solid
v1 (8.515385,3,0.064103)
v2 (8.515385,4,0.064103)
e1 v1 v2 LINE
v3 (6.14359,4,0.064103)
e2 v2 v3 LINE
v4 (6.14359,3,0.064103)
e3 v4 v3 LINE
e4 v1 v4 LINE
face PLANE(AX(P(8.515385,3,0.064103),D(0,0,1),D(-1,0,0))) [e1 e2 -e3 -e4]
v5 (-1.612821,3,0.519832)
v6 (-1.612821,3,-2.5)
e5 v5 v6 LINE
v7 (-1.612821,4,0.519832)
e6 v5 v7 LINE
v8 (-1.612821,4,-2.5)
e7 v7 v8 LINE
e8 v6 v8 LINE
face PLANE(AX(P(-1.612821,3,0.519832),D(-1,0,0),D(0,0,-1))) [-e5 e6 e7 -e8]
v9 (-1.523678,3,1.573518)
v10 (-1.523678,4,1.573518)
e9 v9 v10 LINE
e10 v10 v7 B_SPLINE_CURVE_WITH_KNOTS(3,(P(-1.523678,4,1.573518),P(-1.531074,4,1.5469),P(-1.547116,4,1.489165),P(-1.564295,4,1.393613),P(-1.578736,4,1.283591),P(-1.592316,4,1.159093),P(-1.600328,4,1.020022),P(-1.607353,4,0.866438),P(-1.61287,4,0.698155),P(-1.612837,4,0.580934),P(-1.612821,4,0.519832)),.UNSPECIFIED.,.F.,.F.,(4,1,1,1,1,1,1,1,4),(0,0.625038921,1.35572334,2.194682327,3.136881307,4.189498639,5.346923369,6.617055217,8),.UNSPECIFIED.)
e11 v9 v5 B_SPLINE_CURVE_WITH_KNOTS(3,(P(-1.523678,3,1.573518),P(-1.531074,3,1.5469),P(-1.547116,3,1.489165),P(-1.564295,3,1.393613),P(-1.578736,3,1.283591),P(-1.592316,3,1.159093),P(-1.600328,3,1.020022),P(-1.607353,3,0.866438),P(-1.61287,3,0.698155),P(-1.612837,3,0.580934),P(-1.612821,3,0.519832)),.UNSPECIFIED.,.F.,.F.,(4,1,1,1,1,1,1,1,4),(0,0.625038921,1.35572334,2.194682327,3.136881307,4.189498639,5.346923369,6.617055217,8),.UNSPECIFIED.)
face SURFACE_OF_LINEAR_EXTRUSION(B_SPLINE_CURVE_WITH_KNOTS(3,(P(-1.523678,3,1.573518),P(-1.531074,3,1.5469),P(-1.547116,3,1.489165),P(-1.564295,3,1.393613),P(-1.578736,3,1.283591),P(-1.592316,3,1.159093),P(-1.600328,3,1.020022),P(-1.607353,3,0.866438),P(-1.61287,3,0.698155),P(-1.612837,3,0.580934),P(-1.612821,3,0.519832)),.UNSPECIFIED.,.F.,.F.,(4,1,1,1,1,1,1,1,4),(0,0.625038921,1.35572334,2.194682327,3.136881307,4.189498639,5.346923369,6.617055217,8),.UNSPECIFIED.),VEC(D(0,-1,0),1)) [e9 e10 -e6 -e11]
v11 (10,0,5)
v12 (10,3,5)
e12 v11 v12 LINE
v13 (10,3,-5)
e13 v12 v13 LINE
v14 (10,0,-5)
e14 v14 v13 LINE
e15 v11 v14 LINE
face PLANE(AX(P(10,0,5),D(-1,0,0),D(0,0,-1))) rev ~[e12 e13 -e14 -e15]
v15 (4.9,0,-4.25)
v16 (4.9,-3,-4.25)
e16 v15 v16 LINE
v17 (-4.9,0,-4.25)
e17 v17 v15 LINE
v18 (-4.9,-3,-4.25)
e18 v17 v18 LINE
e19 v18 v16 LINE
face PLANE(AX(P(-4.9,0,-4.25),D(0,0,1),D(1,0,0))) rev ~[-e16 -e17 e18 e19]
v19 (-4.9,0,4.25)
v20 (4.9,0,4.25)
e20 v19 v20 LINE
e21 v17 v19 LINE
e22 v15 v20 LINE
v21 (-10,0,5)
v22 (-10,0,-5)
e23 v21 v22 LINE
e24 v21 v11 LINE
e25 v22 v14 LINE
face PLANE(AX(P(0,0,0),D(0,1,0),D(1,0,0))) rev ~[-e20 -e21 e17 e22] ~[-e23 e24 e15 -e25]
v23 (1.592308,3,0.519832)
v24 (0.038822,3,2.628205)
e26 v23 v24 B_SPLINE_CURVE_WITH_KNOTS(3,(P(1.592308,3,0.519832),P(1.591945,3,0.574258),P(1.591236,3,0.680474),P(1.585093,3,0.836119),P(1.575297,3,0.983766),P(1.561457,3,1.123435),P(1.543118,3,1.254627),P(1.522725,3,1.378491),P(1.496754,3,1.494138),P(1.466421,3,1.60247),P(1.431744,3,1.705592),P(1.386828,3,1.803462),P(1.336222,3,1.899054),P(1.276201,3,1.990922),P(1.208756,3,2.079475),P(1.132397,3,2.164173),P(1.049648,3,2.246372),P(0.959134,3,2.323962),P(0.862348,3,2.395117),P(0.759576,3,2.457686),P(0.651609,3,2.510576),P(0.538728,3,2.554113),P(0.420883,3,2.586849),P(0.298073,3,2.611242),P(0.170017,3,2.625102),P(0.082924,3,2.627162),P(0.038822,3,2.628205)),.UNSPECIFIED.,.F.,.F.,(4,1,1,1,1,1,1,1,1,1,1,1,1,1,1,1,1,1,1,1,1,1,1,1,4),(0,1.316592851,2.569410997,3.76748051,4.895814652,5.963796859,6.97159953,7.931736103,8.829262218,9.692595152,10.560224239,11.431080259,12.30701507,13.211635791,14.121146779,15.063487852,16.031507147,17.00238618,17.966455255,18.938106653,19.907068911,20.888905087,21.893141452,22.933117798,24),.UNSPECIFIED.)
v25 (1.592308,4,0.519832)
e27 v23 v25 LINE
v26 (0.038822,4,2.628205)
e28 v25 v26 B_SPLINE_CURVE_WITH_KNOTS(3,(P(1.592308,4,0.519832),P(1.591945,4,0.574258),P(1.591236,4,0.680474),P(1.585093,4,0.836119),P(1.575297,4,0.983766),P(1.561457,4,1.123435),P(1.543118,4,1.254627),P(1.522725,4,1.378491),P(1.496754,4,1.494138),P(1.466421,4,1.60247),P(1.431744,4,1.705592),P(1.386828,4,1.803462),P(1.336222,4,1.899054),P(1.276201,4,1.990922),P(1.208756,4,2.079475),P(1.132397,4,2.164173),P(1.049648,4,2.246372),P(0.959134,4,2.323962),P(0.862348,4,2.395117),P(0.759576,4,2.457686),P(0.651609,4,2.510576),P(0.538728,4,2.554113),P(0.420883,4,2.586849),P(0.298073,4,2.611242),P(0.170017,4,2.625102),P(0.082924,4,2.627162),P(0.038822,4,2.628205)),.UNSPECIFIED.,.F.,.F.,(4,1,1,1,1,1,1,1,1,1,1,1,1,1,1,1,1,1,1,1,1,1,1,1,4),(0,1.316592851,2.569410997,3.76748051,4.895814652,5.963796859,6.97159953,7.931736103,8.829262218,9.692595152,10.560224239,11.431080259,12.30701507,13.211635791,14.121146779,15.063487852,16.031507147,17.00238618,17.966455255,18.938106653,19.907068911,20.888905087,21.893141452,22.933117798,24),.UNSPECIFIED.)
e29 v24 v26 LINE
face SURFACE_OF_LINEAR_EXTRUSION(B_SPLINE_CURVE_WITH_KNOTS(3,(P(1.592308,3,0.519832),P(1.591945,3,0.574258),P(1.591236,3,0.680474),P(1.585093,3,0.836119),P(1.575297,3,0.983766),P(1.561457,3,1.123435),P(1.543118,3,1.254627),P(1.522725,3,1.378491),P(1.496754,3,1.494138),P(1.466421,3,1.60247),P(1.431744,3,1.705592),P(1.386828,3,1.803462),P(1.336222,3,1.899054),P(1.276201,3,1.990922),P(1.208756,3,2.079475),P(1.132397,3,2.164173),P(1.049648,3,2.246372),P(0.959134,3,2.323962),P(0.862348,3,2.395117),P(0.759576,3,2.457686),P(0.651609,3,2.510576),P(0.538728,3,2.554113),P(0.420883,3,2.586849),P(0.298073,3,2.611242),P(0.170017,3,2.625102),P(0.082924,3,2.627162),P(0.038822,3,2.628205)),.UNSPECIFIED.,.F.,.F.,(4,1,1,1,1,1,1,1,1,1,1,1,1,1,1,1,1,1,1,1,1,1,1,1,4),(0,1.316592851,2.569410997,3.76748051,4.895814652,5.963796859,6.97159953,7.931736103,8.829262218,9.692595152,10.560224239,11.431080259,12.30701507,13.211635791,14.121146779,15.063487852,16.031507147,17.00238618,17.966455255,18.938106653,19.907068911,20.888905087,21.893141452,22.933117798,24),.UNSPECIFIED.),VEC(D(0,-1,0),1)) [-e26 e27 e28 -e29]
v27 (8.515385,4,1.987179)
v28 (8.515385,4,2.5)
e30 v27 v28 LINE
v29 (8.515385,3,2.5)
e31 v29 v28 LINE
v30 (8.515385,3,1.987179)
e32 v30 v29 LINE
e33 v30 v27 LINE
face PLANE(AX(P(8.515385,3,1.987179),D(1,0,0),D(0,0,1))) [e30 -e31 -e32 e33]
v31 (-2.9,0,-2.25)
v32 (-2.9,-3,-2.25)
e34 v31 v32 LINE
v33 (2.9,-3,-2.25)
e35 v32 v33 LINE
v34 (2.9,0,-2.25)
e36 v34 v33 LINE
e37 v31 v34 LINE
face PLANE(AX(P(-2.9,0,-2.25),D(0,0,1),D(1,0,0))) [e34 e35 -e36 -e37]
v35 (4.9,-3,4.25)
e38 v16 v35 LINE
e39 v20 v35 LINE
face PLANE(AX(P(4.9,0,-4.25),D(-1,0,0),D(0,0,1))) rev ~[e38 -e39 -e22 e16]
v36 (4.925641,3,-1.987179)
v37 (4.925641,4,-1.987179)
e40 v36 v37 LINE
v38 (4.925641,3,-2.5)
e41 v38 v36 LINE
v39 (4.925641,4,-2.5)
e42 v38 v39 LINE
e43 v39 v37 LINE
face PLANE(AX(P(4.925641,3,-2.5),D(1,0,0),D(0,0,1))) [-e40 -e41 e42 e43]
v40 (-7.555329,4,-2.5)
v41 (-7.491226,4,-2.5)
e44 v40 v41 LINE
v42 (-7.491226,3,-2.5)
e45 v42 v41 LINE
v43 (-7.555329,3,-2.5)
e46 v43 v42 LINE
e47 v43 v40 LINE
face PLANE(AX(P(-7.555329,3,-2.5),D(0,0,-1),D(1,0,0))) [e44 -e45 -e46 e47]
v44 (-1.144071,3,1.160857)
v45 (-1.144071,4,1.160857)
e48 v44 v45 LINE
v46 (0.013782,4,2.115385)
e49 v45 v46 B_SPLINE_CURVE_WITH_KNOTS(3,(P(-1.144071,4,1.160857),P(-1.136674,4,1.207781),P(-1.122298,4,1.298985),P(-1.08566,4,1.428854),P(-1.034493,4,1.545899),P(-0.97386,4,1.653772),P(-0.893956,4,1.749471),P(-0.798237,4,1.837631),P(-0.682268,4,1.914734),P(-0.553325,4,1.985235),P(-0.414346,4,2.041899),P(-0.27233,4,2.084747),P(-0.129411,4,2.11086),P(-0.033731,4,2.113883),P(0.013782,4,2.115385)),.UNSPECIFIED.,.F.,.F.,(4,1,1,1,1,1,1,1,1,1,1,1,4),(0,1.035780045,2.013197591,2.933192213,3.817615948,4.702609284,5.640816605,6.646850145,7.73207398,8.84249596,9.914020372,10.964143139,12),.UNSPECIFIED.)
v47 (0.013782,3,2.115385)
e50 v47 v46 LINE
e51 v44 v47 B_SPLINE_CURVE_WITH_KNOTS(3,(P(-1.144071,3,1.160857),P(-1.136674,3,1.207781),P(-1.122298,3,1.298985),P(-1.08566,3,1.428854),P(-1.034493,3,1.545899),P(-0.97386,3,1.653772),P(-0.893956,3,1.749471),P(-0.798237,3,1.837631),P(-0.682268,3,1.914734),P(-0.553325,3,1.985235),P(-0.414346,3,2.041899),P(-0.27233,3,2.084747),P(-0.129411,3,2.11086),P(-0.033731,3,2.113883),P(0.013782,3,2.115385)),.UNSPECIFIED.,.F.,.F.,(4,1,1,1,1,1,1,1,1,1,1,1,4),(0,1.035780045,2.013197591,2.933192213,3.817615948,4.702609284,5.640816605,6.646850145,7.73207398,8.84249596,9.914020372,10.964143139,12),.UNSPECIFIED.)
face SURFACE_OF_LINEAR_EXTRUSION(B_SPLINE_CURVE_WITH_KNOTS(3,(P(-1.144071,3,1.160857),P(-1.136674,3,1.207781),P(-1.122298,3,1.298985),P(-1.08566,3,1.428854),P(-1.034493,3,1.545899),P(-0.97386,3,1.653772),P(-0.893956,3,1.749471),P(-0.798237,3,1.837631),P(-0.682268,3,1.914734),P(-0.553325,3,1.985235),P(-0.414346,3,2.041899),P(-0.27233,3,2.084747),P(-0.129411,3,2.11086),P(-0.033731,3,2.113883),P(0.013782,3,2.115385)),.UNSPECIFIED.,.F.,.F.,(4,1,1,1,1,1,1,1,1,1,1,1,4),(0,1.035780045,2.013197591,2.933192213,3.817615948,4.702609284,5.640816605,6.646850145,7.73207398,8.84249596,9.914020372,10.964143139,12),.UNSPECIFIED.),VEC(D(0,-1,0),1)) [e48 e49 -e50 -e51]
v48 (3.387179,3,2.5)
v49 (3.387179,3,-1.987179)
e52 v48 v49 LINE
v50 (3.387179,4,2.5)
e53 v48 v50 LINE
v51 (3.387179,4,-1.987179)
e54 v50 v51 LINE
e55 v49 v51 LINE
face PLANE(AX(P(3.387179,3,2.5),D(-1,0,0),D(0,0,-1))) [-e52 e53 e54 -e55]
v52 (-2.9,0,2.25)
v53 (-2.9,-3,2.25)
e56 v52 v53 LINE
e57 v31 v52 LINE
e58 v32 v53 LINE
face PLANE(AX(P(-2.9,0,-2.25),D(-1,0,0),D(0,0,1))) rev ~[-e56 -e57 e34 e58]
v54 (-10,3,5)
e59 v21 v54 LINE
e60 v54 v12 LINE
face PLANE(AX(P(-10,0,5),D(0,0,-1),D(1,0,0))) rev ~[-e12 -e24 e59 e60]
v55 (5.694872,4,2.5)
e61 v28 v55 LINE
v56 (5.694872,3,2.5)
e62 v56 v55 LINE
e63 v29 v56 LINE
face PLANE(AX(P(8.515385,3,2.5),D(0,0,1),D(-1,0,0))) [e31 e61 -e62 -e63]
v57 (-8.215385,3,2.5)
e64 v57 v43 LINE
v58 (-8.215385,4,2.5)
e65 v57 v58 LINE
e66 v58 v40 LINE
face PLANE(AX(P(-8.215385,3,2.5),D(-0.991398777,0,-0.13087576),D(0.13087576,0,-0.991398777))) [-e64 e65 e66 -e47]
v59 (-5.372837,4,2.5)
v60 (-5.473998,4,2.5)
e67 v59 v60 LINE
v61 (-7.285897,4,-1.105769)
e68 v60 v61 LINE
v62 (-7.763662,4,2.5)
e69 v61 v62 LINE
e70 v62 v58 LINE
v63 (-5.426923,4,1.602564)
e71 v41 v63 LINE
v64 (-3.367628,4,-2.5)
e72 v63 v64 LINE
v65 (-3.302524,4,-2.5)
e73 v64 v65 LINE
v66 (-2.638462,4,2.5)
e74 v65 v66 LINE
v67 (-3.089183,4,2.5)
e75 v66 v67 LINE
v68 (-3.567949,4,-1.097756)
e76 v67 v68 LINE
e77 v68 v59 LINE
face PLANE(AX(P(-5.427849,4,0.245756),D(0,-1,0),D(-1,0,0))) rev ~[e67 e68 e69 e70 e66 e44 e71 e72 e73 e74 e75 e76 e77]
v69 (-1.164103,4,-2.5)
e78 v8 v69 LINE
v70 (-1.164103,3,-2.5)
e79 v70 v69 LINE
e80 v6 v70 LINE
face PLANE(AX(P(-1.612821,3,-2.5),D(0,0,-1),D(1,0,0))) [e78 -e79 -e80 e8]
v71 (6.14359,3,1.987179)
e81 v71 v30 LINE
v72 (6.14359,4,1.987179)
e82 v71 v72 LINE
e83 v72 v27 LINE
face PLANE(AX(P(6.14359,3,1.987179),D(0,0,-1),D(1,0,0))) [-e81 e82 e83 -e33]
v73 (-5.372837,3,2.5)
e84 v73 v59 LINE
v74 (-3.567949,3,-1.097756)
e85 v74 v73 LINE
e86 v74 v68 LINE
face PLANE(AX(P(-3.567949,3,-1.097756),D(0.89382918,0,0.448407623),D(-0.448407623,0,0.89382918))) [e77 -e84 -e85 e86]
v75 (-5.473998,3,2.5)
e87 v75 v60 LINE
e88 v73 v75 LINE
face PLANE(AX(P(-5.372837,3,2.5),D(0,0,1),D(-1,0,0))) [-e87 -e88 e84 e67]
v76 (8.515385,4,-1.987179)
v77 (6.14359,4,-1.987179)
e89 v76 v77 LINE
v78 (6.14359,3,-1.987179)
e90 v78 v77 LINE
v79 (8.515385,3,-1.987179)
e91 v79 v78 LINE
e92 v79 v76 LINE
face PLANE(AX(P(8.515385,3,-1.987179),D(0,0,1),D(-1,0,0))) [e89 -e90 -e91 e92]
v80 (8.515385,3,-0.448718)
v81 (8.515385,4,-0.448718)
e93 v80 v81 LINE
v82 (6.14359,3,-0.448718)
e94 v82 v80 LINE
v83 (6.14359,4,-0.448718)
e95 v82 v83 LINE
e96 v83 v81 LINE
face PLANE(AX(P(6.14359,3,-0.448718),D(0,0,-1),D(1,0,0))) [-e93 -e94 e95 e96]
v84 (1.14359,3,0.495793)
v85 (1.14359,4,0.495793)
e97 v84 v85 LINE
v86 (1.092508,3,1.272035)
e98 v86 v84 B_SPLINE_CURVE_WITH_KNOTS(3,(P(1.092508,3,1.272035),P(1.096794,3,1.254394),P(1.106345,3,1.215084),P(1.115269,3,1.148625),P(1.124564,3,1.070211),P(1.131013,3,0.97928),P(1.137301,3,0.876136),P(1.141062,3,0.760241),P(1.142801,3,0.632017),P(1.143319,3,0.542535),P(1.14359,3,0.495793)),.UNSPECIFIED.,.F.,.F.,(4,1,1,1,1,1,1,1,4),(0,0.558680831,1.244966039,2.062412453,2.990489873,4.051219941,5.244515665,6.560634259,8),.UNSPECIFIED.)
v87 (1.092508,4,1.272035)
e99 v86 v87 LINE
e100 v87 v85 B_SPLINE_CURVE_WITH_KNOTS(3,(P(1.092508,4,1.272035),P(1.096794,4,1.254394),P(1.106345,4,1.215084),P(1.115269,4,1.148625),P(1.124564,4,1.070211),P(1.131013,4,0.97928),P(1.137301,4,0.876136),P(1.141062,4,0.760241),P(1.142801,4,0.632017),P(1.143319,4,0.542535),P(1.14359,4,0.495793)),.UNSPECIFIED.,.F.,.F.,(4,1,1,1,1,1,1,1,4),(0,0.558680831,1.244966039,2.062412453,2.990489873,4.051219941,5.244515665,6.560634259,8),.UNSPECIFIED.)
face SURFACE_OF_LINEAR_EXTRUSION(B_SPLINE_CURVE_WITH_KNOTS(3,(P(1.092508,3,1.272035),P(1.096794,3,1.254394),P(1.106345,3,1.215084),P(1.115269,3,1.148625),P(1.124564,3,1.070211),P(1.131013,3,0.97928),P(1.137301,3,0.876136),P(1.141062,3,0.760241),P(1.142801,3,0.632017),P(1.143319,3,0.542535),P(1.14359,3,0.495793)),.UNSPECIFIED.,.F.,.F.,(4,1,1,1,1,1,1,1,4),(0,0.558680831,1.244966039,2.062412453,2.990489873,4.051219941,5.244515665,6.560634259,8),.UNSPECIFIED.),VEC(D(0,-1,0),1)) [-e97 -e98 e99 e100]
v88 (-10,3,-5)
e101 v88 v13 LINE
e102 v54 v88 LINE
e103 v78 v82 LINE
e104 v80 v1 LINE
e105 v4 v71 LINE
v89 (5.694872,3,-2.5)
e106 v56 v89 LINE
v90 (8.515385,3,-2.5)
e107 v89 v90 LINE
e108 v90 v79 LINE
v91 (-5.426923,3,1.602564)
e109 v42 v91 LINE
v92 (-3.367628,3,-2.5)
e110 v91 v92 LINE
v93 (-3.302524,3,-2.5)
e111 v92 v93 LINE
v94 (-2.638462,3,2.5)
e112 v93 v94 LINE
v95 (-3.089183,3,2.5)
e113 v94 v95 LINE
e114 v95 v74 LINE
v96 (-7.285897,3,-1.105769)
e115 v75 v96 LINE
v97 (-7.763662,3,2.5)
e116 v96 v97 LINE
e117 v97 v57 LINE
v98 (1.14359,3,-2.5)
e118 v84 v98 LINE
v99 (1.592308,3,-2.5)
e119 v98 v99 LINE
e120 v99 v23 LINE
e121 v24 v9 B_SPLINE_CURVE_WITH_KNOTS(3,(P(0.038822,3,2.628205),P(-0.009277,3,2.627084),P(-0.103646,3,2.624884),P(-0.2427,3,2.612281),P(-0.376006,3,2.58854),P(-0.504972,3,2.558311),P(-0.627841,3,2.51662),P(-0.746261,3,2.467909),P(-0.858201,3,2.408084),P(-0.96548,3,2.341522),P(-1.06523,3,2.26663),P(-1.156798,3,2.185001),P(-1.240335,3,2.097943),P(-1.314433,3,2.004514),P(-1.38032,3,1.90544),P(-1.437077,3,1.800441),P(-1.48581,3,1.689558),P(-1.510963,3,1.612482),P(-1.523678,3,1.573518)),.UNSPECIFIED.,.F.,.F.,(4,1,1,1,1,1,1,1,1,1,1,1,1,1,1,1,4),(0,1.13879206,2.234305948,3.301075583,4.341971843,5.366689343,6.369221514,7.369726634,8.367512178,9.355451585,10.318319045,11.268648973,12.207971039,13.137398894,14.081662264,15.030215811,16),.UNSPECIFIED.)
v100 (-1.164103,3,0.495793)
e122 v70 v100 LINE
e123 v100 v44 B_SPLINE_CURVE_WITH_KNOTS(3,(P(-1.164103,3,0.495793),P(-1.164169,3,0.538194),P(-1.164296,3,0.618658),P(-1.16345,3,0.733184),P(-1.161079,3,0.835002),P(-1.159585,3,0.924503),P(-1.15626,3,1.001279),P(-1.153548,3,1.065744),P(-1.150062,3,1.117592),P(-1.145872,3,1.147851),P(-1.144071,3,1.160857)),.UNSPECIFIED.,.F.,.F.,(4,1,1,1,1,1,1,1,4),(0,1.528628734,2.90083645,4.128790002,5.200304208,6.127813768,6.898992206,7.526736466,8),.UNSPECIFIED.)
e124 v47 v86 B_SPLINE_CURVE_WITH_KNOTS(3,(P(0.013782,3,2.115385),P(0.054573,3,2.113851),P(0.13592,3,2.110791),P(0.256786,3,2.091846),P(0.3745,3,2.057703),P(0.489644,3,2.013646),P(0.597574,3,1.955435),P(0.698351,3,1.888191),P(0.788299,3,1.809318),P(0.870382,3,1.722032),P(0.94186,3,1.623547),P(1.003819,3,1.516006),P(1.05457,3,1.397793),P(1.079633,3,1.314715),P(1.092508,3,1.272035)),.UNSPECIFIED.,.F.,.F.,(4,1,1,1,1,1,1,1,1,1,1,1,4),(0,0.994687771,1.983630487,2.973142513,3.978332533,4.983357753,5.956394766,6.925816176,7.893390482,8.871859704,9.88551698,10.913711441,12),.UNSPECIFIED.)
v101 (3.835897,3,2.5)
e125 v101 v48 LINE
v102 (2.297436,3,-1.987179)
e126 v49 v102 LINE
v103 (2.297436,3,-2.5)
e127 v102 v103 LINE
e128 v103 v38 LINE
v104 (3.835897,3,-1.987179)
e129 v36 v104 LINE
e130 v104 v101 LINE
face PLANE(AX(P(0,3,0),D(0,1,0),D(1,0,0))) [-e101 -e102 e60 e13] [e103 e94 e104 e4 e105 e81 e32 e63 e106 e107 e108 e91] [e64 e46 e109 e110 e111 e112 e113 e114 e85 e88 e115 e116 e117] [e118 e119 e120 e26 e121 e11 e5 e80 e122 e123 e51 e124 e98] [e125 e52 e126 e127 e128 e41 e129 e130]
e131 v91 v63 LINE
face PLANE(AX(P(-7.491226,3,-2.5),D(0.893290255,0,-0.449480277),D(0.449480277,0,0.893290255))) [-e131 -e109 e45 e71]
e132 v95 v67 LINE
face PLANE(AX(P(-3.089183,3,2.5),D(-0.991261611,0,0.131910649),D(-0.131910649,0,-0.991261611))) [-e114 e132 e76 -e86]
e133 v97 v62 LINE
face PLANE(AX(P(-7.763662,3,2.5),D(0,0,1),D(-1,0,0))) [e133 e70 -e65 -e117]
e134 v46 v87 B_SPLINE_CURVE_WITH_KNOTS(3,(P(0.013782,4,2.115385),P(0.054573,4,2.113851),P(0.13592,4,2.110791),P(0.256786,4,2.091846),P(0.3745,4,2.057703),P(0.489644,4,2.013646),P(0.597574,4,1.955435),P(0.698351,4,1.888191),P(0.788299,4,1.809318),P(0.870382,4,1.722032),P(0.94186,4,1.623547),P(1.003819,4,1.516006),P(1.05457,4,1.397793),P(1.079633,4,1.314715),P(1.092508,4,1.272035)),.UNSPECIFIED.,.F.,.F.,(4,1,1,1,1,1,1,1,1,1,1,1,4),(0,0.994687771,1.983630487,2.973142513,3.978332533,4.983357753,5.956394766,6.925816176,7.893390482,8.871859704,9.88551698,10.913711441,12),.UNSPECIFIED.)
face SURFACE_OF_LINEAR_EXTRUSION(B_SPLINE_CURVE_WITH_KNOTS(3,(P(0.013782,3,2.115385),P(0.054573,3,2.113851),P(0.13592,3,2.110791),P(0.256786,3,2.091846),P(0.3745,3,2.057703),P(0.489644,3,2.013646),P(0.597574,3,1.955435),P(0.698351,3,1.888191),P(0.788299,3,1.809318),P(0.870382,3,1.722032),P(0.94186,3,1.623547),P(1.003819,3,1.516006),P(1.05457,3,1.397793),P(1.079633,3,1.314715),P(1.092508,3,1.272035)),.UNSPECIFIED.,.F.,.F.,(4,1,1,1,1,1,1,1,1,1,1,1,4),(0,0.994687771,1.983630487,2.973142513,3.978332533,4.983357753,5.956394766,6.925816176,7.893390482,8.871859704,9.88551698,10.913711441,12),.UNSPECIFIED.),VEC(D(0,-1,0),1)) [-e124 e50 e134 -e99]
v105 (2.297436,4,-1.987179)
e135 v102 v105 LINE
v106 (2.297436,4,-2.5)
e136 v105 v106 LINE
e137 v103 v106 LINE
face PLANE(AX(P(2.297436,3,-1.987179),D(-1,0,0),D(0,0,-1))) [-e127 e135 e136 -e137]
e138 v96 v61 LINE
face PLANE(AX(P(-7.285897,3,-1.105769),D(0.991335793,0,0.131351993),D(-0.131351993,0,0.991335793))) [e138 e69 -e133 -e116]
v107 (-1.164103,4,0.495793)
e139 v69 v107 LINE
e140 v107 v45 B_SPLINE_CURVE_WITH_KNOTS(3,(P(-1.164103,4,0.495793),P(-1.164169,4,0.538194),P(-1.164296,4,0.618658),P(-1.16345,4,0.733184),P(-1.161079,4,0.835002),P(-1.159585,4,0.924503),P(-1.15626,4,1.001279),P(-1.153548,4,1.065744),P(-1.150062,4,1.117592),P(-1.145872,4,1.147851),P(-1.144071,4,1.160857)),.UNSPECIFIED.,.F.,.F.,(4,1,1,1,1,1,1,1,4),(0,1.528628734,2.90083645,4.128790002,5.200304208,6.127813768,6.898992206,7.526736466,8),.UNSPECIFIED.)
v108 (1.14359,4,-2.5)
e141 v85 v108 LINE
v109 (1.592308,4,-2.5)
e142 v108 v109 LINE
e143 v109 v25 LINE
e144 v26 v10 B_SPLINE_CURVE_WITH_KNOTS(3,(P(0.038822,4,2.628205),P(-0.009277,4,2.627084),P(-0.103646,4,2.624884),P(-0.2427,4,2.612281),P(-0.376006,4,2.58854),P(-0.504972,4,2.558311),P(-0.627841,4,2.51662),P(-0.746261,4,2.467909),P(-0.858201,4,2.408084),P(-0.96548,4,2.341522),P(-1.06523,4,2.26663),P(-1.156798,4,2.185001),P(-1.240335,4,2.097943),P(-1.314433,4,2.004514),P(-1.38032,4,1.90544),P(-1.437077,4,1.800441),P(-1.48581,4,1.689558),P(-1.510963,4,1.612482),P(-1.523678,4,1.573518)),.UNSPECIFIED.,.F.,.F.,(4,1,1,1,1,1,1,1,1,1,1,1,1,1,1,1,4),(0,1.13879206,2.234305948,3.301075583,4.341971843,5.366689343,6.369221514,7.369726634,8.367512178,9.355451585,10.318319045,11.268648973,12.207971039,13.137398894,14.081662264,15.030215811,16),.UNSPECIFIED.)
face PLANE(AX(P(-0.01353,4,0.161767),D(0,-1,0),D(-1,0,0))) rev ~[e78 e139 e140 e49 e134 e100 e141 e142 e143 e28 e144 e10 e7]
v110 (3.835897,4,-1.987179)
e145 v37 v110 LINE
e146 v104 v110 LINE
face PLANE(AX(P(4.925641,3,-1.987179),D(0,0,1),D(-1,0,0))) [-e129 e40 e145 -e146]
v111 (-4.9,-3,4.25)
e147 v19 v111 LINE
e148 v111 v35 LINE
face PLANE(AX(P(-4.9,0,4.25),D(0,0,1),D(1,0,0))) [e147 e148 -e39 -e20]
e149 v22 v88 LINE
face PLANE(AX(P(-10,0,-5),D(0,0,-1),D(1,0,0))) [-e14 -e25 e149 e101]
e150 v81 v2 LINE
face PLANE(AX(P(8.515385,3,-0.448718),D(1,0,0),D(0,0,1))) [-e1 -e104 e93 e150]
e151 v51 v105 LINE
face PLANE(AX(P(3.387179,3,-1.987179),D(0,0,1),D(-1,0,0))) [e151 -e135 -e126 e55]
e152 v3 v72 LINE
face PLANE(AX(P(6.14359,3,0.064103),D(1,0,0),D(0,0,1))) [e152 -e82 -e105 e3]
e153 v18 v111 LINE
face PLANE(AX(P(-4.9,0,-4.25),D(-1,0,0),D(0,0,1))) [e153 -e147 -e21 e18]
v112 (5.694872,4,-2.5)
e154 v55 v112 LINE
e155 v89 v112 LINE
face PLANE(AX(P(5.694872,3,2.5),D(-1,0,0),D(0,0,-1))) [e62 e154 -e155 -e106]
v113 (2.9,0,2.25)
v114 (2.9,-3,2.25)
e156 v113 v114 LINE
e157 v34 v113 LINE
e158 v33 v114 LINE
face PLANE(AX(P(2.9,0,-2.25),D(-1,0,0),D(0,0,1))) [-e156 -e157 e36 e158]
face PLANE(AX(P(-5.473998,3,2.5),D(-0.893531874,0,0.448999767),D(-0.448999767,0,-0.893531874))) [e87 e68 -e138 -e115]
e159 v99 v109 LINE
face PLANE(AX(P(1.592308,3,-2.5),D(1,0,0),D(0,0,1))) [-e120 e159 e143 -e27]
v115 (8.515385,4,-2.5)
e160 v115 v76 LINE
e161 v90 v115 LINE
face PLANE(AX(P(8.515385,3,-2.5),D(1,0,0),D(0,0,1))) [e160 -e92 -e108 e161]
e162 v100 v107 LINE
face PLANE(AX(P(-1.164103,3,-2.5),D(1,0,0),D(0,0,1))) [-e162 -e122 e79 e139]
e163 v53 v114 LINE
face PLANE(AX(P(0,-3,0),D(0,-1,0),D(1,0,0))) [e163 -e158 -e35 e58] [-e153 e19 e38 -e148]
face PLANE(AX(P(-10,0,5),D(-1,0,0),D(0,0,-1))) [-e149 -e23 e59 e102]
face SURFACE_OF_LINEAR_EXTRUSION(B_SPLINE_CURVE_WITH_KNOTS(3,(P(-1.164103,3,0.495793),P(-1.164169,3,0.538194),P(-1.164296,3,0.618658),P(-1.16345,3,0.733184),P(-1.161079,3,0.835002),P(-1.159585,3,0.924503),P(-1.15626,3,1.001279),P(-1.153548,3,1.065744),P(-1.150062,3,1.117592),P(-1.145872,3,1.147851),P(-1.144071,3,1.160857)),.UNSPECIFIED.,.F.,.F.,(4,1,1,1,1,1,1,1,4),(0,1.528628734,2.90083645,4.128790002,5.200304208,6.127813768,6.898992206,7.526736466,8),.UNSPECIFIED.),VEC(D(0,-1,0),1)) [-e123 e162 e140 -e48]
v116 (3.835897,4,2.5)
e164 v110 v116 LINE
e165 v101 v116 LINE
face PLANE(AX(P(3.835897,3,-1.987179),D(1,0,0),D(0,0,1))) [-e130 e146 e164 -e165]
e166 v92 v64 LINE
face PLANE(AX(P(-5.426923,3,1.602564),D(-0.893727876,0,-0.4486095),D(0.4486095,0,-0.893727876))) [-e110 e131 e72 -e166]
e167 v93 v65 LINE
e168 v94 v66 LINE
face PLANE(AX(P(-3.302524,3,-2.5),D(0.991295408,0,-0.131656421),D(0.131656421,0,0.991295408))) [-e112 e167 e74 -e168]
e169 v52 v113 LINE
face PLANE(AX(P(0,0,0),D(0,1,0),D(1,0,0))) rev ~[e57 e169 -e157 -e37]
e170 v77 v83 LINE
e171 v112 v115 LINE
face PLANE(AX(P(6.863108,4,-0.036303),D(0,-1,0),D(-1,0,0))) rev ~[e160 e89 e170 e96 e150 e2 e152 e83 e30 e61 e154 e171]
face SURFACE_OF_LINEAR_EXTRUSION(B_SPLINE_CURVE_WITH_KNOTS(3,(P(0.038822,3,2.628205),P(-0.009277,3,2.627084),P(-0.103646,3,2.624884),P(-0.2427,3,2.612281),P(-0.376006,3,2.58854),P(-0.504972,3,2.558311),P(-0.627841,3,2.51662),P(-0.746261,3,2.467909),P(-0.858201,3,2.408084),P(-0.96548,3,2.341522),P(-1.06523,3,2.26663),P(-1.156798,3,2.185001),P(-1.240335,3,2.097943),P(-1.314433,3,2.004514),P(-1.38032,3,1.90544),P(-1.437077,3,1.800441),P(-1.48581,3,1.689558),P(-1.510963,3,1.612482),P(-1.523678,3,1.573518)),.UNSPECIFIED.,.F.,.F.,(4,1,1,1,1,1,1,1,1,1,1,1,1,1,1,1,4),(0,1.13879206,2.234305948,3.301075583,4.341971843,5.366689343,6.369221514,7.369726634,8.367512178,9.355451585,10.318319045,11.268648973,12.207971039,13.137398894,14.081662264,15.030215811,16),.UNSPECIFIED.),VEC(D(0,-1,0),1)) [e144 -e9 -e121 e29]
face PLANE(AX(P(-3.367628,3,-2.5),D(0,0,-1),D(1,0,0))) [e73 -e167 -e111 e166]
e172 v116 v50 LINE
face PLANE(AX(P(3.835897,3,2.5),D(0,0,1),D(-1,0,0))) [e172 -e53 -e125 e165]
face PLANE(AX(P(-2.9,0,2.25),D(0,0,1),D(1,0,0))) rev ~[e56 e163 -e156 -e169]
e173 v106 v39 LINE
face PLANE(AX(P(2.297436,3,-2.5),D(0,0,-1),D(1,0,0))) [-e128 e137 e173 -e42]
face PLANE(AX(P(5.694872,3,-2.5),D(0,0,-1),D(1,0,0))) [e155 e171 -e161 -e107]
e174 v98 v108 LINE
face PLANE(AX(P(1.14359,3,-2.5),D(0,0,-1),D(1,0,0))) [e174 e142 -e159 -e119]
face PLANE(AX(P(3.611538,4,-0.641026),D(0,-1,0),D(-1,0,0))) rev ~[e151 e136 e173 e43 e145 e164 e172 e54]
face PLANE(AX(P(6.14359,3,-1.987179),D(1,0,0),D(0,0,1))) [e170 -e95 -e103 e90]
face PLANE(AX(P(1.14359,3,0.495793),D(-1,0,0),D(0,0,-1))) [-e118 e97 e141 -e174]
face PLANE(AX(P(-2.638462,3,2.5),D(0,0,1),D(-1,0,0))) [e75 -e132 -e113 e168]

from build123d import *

# Parameters (mm, degrees)
SKETCH1_W           = 20
SKETCH1_H           = 10
BOSS_EXTRUDE1_DEPTH = 3
SKETCH2_W           = 9.8
SKETCH2_H           = 8.5
SKETCH2_W_2         = 5.8
SKETCH2_H_2         = 4.5
BOSS_EXTRUDE2_DEPTH = 3
BOSS_EXTRUDE3_DEPTH = 1


with BuildPart() as part:
    # Sketch1 → Boss-Extrude1 (new body)
    with BuildSketch(Plane(origin=(0, 0, 0), x_dir=(1, 0, 0), z_dir=(0, 1, 0))):
        Rectangle(SKETCH1_W, SKETCH1_H)
    extrude(amount=BOSS_EXTRUDE1_DEPTH)

    # Sketch2 → Boss-Extrude2 (add)
    with BuildSketch(Plane.XZ):
        Rectangle(SKETCH2_W, SKETCH2_H)
        Rectangle(SKETCH2_W_2, SKETCH2_H_2, mode=Mode.SUBTRACT)
    extrude(amount=BOSS_EXTRUDE2_DEPTH)

    # Sketch3 → Boss-Extrude3 (add)
    with BuildSketch(Plane(origin=(0, 3, 0), x_dir=(1, 0, 0), z_dir=(0, 1, 0))):
        Polygon((-8.215384615, -2.5), (-7.555328526, 2.5), (-7.491225962, 2.5), (-5.426923077, -1.602564103), (-3.367628205, 2.5), (-3.302524038, 2.5), (-2.638461538, -2.5), (-3.089182692, -2.5), (-3.567948718, 1.09775641), (-5.372836538, -2.5), (-5.473998397, -2.5), (-7.285897436, 1.105769231), (-7.763661859, -2.5), align=None)
        with BuildLine():
            Line((-1.612820513, 2.5), (-1.164102564, 2.5))
            Line((-1.164102564, 2.5), (-1.164102564, -0.495793269))
            add(Edge.make_bspline(
                [(-1.164102564, -0.495793269), (-1.164169341, -0.53819432), (-1.164296062, -0.618657622), (-1.163449614, -0.733183765), (-1.161079088, -0.835001564), (-1.159584574, -0.924503489), (-1.156259812, -1.001278843), (-1.153548316, -1.065743572), (-1.150061807, -1.117592433), (-1.145871639, -1.147850899), (-1.144070513, -1.160857372)],
                knots=[0, 0, 0, 0, 1.528628734, 2.90083645, 4.128790002, 5.200304208, 6.127813768, 6.898992206, 7.526736466, 8, 8, 8, 8], degree=3))
            add(Edge.make_bspline(
                [(-1.144070513, -1.160857372), (-1.136674143, -1.207781319), (-1.122298163, -1.298985218), (-1.08566048, -1.428854192), (-1.034492622, -1.545899133), (-0.973859703, -1.653772406), (-0.893955973, -1.749471491), (-0.798236637, -1.837630995), (-0.682268396, -1.914733574), (-0.553324674, -1.985234733), (-0.414345763, -2.041899137), (-0.272329668, -2.0847468), (-0.129411126, -2.110859514), (-0.033730891, -2.113883141), (0.013782051, -2.115384615)],
                knots=[0, 0, 0, 0, 1.035780045, 2.013197591, 2.933192213, 3.817615948, 4.702609284, 5.640816605, 6.646850145, 7.73207398, 8.84249596, 9.914020372, 10.964143139, 12, 12, 12, 12], degree=3))
            add(Edge.make_bspline(
                [(0.013782051, -2.115384615), (0.054573109, -2.113850544), (0.135919626, -2.11079126), (0.256785956, -2.091846359), (0.374500396, -2.057702694), (0.489644225, -2.013645896), (0.597574203, -1.955435051), (0.698350548, -1.888190995), (0.788299026, -1.809318315), (0.87038188, -1.722032109), (0.94186036, -1.62354668), (1.003819133, -1.516006483), (1.054570461, -1.39779313), (1.07963264, -1.314715384), (1.092508013, -1.272035256)],
                knots=[0, 0, 0, 0, 0.994687771, 1.983630487, 2.973142513, 3.978332533, 4.983357753, 5.956394766, 6.925816176, 7.893390482, 8.871859704, 9.88551698, 10.913711441, 12, 12, 12, 12], degree=3))
            add(Edge.make_bspline(
                [(1.092508013, -1.272035256), (1.096793906, -1.254394436), (1.106344604, -1.215083579), (1.115268954, -1.148624592), (1.12456399, -1.070211215), (1.131013376, -0.979280054), (1.137300833, -0.876135807), (1.141062366, -0.760241154), (1.142800984, -0.632016924), (1.143319099, -0.542535264), (1.143589744, -0.495793269)],
                knots=[0, 0, 0, 0, 0.558680831, 1.244966039, 2.062412453, 2.990489873, 4.051219941, 5.244515665, 6.560634259, 8, 8, 8, 8], degree=3))
            Line((1.143589744, -0.495793269), (1.143589744, 2.5))
            Line((1.143589744, 2.5), (1.592307692, 2.5))
            Line((1.592307692, 2.5), (1.592307692, -0.519831731))
            add(Edge.make_bspline(
                [(1.592307692, -0.519831731), (1.591944663, -0.574257986), (1.59123619, -0.680474133), (1.585092509, -0.836118932), (1.575296795, -0.983766048), (1.561456669, -1.123435329), (1.543118093, -1.254626985), (1.522724921, -1.37849094), (1.49675416, -1.494138072), (1.466420729, -1.602470097), (1.431744232, -1.705592259), (1.386828306, -1.803461709), (1.336221878, -1.899053708), (1.276200945, -1.990922435), (1.208756112, -2.079474654), (1.132396569, -2.164173332), (1.049647767, -2.24637197), (0.959134111, -2.323962064), (0.862347646, -2.395117317), (0.759576278, -2.457685562), (0.651609464, -2.510576444), (0.538727855, -2.554113479), (0.42088328, -2.58684862), (0.298072766, -2.6112417), (0.170016775, -2.625102125), (0.082924409, -2.627162025), (0.038822115, -2.628205128)],
                knots=[0, 0, 0, 0, 1.316592851, 2.569410997, 3.76748051, 4.895814652, 5.963796859, 6.97159953, 7.931736103, 8.829262218, 9.692595152, 10.560224239, 11.431080259, 12.30701507, 13.211635791, 14.121146779, 15.063487852, 16.031507147, 17.00238618, 17.966455255, 18.938106653, 19.907068911, 20.888905087, 21.893141452, 22.933117798, 24, 24, 24, 24], degree=3))
            add(Edge.make_bspline(
                [(0.038822115, -2.628205128), (-0.009276603, -2.627084035), (-0.103646115, -2.624884454), (-0.242700497, -2.612280525), (-0.376006492, -2.588539962), (-0.50497203, -2.558311471), (-0.627841312, -2.516620418), (-0.746260518, -2.467908811), (-0.858201491, -2.408084153), (-0.965480247, -2.341522163), (-1.065229898, -2.266629823), (-1.156797617, -2.185001003), (-1.240334575, -2.097943321), (-1.314432713, -2.004514227), (-1.380319691, -1.90544036), (-1.437077138, -1.800441446), (-1.485810344, -1.689558137), (-1.510962583, -1.612482137), (-1.523677885, -1.573517628)],
                knots=[0, 0, 0, 0, 1.13879206, 2.234305948, 3.301075583, 4.341971843, 5.366689343, 6.369221514, 7.369726634, 8.367512178, 9.355451585, 10.318319045, 11.268648973, 12.207971039, 13.137398894, 14.081662264, 15.030215811, 16, 16, 16, 16], degree=3))
            add(Edge.make_bspline(
                [(-1.523677885, -1.573517628), (-1.531073825, -1.546899665), (-1.547115784, -1.489164709), (-1.564294781, -1.393612583), (-1.578736326, -1.283591272), (-1.592315695, -1.159093245), (-1.600328492, -1.020022007), (-1.607353404, -0.866437842), (-1.612870002, -0.698155039), (-1.61283747, -0.580934303), (-1.612820513, -0.519831731)],
                knots=[0, 0, 0, 0, 0.625038921, 1.35572334, 2.194682327, 3.136881307, 4.189498639, 5.346923369, 6.617055217, 8, 8, 8, 8], degree=3))
            Line((-1.612820513, -0.519831731), (-1.612820513, 2.5))
        make_face()
        Polygon((2.297435897, 1.987179487), (2.297435897, 2.5), (4.925641026, 2.5), (4.925641026, 1.987179487), (3.835897436, 1.987179487), (3.835897436, -2.5), (3.387179487, -2.5), (3.387179487, 1.987179487), align=None)
        Polygon((5.694871795, 2.5), (8.515384615, 2.5), (8.515384615, 1.987179487), (6.143589744, 1.987179487), (6.143589744, 0.448717949), (8.515384615, 0.448717949), (8.515384615, -0.064102564), (6.143589744, -0.064102564), (6.143589744, -1.987179487), (8.515384615, -1.987179487), (8.515384615, -2.5), (5.694871795, -2.5), align=None)
    extrude(amount=BOSS_EXTRUDE3_DEPTH)


solid = part.part
